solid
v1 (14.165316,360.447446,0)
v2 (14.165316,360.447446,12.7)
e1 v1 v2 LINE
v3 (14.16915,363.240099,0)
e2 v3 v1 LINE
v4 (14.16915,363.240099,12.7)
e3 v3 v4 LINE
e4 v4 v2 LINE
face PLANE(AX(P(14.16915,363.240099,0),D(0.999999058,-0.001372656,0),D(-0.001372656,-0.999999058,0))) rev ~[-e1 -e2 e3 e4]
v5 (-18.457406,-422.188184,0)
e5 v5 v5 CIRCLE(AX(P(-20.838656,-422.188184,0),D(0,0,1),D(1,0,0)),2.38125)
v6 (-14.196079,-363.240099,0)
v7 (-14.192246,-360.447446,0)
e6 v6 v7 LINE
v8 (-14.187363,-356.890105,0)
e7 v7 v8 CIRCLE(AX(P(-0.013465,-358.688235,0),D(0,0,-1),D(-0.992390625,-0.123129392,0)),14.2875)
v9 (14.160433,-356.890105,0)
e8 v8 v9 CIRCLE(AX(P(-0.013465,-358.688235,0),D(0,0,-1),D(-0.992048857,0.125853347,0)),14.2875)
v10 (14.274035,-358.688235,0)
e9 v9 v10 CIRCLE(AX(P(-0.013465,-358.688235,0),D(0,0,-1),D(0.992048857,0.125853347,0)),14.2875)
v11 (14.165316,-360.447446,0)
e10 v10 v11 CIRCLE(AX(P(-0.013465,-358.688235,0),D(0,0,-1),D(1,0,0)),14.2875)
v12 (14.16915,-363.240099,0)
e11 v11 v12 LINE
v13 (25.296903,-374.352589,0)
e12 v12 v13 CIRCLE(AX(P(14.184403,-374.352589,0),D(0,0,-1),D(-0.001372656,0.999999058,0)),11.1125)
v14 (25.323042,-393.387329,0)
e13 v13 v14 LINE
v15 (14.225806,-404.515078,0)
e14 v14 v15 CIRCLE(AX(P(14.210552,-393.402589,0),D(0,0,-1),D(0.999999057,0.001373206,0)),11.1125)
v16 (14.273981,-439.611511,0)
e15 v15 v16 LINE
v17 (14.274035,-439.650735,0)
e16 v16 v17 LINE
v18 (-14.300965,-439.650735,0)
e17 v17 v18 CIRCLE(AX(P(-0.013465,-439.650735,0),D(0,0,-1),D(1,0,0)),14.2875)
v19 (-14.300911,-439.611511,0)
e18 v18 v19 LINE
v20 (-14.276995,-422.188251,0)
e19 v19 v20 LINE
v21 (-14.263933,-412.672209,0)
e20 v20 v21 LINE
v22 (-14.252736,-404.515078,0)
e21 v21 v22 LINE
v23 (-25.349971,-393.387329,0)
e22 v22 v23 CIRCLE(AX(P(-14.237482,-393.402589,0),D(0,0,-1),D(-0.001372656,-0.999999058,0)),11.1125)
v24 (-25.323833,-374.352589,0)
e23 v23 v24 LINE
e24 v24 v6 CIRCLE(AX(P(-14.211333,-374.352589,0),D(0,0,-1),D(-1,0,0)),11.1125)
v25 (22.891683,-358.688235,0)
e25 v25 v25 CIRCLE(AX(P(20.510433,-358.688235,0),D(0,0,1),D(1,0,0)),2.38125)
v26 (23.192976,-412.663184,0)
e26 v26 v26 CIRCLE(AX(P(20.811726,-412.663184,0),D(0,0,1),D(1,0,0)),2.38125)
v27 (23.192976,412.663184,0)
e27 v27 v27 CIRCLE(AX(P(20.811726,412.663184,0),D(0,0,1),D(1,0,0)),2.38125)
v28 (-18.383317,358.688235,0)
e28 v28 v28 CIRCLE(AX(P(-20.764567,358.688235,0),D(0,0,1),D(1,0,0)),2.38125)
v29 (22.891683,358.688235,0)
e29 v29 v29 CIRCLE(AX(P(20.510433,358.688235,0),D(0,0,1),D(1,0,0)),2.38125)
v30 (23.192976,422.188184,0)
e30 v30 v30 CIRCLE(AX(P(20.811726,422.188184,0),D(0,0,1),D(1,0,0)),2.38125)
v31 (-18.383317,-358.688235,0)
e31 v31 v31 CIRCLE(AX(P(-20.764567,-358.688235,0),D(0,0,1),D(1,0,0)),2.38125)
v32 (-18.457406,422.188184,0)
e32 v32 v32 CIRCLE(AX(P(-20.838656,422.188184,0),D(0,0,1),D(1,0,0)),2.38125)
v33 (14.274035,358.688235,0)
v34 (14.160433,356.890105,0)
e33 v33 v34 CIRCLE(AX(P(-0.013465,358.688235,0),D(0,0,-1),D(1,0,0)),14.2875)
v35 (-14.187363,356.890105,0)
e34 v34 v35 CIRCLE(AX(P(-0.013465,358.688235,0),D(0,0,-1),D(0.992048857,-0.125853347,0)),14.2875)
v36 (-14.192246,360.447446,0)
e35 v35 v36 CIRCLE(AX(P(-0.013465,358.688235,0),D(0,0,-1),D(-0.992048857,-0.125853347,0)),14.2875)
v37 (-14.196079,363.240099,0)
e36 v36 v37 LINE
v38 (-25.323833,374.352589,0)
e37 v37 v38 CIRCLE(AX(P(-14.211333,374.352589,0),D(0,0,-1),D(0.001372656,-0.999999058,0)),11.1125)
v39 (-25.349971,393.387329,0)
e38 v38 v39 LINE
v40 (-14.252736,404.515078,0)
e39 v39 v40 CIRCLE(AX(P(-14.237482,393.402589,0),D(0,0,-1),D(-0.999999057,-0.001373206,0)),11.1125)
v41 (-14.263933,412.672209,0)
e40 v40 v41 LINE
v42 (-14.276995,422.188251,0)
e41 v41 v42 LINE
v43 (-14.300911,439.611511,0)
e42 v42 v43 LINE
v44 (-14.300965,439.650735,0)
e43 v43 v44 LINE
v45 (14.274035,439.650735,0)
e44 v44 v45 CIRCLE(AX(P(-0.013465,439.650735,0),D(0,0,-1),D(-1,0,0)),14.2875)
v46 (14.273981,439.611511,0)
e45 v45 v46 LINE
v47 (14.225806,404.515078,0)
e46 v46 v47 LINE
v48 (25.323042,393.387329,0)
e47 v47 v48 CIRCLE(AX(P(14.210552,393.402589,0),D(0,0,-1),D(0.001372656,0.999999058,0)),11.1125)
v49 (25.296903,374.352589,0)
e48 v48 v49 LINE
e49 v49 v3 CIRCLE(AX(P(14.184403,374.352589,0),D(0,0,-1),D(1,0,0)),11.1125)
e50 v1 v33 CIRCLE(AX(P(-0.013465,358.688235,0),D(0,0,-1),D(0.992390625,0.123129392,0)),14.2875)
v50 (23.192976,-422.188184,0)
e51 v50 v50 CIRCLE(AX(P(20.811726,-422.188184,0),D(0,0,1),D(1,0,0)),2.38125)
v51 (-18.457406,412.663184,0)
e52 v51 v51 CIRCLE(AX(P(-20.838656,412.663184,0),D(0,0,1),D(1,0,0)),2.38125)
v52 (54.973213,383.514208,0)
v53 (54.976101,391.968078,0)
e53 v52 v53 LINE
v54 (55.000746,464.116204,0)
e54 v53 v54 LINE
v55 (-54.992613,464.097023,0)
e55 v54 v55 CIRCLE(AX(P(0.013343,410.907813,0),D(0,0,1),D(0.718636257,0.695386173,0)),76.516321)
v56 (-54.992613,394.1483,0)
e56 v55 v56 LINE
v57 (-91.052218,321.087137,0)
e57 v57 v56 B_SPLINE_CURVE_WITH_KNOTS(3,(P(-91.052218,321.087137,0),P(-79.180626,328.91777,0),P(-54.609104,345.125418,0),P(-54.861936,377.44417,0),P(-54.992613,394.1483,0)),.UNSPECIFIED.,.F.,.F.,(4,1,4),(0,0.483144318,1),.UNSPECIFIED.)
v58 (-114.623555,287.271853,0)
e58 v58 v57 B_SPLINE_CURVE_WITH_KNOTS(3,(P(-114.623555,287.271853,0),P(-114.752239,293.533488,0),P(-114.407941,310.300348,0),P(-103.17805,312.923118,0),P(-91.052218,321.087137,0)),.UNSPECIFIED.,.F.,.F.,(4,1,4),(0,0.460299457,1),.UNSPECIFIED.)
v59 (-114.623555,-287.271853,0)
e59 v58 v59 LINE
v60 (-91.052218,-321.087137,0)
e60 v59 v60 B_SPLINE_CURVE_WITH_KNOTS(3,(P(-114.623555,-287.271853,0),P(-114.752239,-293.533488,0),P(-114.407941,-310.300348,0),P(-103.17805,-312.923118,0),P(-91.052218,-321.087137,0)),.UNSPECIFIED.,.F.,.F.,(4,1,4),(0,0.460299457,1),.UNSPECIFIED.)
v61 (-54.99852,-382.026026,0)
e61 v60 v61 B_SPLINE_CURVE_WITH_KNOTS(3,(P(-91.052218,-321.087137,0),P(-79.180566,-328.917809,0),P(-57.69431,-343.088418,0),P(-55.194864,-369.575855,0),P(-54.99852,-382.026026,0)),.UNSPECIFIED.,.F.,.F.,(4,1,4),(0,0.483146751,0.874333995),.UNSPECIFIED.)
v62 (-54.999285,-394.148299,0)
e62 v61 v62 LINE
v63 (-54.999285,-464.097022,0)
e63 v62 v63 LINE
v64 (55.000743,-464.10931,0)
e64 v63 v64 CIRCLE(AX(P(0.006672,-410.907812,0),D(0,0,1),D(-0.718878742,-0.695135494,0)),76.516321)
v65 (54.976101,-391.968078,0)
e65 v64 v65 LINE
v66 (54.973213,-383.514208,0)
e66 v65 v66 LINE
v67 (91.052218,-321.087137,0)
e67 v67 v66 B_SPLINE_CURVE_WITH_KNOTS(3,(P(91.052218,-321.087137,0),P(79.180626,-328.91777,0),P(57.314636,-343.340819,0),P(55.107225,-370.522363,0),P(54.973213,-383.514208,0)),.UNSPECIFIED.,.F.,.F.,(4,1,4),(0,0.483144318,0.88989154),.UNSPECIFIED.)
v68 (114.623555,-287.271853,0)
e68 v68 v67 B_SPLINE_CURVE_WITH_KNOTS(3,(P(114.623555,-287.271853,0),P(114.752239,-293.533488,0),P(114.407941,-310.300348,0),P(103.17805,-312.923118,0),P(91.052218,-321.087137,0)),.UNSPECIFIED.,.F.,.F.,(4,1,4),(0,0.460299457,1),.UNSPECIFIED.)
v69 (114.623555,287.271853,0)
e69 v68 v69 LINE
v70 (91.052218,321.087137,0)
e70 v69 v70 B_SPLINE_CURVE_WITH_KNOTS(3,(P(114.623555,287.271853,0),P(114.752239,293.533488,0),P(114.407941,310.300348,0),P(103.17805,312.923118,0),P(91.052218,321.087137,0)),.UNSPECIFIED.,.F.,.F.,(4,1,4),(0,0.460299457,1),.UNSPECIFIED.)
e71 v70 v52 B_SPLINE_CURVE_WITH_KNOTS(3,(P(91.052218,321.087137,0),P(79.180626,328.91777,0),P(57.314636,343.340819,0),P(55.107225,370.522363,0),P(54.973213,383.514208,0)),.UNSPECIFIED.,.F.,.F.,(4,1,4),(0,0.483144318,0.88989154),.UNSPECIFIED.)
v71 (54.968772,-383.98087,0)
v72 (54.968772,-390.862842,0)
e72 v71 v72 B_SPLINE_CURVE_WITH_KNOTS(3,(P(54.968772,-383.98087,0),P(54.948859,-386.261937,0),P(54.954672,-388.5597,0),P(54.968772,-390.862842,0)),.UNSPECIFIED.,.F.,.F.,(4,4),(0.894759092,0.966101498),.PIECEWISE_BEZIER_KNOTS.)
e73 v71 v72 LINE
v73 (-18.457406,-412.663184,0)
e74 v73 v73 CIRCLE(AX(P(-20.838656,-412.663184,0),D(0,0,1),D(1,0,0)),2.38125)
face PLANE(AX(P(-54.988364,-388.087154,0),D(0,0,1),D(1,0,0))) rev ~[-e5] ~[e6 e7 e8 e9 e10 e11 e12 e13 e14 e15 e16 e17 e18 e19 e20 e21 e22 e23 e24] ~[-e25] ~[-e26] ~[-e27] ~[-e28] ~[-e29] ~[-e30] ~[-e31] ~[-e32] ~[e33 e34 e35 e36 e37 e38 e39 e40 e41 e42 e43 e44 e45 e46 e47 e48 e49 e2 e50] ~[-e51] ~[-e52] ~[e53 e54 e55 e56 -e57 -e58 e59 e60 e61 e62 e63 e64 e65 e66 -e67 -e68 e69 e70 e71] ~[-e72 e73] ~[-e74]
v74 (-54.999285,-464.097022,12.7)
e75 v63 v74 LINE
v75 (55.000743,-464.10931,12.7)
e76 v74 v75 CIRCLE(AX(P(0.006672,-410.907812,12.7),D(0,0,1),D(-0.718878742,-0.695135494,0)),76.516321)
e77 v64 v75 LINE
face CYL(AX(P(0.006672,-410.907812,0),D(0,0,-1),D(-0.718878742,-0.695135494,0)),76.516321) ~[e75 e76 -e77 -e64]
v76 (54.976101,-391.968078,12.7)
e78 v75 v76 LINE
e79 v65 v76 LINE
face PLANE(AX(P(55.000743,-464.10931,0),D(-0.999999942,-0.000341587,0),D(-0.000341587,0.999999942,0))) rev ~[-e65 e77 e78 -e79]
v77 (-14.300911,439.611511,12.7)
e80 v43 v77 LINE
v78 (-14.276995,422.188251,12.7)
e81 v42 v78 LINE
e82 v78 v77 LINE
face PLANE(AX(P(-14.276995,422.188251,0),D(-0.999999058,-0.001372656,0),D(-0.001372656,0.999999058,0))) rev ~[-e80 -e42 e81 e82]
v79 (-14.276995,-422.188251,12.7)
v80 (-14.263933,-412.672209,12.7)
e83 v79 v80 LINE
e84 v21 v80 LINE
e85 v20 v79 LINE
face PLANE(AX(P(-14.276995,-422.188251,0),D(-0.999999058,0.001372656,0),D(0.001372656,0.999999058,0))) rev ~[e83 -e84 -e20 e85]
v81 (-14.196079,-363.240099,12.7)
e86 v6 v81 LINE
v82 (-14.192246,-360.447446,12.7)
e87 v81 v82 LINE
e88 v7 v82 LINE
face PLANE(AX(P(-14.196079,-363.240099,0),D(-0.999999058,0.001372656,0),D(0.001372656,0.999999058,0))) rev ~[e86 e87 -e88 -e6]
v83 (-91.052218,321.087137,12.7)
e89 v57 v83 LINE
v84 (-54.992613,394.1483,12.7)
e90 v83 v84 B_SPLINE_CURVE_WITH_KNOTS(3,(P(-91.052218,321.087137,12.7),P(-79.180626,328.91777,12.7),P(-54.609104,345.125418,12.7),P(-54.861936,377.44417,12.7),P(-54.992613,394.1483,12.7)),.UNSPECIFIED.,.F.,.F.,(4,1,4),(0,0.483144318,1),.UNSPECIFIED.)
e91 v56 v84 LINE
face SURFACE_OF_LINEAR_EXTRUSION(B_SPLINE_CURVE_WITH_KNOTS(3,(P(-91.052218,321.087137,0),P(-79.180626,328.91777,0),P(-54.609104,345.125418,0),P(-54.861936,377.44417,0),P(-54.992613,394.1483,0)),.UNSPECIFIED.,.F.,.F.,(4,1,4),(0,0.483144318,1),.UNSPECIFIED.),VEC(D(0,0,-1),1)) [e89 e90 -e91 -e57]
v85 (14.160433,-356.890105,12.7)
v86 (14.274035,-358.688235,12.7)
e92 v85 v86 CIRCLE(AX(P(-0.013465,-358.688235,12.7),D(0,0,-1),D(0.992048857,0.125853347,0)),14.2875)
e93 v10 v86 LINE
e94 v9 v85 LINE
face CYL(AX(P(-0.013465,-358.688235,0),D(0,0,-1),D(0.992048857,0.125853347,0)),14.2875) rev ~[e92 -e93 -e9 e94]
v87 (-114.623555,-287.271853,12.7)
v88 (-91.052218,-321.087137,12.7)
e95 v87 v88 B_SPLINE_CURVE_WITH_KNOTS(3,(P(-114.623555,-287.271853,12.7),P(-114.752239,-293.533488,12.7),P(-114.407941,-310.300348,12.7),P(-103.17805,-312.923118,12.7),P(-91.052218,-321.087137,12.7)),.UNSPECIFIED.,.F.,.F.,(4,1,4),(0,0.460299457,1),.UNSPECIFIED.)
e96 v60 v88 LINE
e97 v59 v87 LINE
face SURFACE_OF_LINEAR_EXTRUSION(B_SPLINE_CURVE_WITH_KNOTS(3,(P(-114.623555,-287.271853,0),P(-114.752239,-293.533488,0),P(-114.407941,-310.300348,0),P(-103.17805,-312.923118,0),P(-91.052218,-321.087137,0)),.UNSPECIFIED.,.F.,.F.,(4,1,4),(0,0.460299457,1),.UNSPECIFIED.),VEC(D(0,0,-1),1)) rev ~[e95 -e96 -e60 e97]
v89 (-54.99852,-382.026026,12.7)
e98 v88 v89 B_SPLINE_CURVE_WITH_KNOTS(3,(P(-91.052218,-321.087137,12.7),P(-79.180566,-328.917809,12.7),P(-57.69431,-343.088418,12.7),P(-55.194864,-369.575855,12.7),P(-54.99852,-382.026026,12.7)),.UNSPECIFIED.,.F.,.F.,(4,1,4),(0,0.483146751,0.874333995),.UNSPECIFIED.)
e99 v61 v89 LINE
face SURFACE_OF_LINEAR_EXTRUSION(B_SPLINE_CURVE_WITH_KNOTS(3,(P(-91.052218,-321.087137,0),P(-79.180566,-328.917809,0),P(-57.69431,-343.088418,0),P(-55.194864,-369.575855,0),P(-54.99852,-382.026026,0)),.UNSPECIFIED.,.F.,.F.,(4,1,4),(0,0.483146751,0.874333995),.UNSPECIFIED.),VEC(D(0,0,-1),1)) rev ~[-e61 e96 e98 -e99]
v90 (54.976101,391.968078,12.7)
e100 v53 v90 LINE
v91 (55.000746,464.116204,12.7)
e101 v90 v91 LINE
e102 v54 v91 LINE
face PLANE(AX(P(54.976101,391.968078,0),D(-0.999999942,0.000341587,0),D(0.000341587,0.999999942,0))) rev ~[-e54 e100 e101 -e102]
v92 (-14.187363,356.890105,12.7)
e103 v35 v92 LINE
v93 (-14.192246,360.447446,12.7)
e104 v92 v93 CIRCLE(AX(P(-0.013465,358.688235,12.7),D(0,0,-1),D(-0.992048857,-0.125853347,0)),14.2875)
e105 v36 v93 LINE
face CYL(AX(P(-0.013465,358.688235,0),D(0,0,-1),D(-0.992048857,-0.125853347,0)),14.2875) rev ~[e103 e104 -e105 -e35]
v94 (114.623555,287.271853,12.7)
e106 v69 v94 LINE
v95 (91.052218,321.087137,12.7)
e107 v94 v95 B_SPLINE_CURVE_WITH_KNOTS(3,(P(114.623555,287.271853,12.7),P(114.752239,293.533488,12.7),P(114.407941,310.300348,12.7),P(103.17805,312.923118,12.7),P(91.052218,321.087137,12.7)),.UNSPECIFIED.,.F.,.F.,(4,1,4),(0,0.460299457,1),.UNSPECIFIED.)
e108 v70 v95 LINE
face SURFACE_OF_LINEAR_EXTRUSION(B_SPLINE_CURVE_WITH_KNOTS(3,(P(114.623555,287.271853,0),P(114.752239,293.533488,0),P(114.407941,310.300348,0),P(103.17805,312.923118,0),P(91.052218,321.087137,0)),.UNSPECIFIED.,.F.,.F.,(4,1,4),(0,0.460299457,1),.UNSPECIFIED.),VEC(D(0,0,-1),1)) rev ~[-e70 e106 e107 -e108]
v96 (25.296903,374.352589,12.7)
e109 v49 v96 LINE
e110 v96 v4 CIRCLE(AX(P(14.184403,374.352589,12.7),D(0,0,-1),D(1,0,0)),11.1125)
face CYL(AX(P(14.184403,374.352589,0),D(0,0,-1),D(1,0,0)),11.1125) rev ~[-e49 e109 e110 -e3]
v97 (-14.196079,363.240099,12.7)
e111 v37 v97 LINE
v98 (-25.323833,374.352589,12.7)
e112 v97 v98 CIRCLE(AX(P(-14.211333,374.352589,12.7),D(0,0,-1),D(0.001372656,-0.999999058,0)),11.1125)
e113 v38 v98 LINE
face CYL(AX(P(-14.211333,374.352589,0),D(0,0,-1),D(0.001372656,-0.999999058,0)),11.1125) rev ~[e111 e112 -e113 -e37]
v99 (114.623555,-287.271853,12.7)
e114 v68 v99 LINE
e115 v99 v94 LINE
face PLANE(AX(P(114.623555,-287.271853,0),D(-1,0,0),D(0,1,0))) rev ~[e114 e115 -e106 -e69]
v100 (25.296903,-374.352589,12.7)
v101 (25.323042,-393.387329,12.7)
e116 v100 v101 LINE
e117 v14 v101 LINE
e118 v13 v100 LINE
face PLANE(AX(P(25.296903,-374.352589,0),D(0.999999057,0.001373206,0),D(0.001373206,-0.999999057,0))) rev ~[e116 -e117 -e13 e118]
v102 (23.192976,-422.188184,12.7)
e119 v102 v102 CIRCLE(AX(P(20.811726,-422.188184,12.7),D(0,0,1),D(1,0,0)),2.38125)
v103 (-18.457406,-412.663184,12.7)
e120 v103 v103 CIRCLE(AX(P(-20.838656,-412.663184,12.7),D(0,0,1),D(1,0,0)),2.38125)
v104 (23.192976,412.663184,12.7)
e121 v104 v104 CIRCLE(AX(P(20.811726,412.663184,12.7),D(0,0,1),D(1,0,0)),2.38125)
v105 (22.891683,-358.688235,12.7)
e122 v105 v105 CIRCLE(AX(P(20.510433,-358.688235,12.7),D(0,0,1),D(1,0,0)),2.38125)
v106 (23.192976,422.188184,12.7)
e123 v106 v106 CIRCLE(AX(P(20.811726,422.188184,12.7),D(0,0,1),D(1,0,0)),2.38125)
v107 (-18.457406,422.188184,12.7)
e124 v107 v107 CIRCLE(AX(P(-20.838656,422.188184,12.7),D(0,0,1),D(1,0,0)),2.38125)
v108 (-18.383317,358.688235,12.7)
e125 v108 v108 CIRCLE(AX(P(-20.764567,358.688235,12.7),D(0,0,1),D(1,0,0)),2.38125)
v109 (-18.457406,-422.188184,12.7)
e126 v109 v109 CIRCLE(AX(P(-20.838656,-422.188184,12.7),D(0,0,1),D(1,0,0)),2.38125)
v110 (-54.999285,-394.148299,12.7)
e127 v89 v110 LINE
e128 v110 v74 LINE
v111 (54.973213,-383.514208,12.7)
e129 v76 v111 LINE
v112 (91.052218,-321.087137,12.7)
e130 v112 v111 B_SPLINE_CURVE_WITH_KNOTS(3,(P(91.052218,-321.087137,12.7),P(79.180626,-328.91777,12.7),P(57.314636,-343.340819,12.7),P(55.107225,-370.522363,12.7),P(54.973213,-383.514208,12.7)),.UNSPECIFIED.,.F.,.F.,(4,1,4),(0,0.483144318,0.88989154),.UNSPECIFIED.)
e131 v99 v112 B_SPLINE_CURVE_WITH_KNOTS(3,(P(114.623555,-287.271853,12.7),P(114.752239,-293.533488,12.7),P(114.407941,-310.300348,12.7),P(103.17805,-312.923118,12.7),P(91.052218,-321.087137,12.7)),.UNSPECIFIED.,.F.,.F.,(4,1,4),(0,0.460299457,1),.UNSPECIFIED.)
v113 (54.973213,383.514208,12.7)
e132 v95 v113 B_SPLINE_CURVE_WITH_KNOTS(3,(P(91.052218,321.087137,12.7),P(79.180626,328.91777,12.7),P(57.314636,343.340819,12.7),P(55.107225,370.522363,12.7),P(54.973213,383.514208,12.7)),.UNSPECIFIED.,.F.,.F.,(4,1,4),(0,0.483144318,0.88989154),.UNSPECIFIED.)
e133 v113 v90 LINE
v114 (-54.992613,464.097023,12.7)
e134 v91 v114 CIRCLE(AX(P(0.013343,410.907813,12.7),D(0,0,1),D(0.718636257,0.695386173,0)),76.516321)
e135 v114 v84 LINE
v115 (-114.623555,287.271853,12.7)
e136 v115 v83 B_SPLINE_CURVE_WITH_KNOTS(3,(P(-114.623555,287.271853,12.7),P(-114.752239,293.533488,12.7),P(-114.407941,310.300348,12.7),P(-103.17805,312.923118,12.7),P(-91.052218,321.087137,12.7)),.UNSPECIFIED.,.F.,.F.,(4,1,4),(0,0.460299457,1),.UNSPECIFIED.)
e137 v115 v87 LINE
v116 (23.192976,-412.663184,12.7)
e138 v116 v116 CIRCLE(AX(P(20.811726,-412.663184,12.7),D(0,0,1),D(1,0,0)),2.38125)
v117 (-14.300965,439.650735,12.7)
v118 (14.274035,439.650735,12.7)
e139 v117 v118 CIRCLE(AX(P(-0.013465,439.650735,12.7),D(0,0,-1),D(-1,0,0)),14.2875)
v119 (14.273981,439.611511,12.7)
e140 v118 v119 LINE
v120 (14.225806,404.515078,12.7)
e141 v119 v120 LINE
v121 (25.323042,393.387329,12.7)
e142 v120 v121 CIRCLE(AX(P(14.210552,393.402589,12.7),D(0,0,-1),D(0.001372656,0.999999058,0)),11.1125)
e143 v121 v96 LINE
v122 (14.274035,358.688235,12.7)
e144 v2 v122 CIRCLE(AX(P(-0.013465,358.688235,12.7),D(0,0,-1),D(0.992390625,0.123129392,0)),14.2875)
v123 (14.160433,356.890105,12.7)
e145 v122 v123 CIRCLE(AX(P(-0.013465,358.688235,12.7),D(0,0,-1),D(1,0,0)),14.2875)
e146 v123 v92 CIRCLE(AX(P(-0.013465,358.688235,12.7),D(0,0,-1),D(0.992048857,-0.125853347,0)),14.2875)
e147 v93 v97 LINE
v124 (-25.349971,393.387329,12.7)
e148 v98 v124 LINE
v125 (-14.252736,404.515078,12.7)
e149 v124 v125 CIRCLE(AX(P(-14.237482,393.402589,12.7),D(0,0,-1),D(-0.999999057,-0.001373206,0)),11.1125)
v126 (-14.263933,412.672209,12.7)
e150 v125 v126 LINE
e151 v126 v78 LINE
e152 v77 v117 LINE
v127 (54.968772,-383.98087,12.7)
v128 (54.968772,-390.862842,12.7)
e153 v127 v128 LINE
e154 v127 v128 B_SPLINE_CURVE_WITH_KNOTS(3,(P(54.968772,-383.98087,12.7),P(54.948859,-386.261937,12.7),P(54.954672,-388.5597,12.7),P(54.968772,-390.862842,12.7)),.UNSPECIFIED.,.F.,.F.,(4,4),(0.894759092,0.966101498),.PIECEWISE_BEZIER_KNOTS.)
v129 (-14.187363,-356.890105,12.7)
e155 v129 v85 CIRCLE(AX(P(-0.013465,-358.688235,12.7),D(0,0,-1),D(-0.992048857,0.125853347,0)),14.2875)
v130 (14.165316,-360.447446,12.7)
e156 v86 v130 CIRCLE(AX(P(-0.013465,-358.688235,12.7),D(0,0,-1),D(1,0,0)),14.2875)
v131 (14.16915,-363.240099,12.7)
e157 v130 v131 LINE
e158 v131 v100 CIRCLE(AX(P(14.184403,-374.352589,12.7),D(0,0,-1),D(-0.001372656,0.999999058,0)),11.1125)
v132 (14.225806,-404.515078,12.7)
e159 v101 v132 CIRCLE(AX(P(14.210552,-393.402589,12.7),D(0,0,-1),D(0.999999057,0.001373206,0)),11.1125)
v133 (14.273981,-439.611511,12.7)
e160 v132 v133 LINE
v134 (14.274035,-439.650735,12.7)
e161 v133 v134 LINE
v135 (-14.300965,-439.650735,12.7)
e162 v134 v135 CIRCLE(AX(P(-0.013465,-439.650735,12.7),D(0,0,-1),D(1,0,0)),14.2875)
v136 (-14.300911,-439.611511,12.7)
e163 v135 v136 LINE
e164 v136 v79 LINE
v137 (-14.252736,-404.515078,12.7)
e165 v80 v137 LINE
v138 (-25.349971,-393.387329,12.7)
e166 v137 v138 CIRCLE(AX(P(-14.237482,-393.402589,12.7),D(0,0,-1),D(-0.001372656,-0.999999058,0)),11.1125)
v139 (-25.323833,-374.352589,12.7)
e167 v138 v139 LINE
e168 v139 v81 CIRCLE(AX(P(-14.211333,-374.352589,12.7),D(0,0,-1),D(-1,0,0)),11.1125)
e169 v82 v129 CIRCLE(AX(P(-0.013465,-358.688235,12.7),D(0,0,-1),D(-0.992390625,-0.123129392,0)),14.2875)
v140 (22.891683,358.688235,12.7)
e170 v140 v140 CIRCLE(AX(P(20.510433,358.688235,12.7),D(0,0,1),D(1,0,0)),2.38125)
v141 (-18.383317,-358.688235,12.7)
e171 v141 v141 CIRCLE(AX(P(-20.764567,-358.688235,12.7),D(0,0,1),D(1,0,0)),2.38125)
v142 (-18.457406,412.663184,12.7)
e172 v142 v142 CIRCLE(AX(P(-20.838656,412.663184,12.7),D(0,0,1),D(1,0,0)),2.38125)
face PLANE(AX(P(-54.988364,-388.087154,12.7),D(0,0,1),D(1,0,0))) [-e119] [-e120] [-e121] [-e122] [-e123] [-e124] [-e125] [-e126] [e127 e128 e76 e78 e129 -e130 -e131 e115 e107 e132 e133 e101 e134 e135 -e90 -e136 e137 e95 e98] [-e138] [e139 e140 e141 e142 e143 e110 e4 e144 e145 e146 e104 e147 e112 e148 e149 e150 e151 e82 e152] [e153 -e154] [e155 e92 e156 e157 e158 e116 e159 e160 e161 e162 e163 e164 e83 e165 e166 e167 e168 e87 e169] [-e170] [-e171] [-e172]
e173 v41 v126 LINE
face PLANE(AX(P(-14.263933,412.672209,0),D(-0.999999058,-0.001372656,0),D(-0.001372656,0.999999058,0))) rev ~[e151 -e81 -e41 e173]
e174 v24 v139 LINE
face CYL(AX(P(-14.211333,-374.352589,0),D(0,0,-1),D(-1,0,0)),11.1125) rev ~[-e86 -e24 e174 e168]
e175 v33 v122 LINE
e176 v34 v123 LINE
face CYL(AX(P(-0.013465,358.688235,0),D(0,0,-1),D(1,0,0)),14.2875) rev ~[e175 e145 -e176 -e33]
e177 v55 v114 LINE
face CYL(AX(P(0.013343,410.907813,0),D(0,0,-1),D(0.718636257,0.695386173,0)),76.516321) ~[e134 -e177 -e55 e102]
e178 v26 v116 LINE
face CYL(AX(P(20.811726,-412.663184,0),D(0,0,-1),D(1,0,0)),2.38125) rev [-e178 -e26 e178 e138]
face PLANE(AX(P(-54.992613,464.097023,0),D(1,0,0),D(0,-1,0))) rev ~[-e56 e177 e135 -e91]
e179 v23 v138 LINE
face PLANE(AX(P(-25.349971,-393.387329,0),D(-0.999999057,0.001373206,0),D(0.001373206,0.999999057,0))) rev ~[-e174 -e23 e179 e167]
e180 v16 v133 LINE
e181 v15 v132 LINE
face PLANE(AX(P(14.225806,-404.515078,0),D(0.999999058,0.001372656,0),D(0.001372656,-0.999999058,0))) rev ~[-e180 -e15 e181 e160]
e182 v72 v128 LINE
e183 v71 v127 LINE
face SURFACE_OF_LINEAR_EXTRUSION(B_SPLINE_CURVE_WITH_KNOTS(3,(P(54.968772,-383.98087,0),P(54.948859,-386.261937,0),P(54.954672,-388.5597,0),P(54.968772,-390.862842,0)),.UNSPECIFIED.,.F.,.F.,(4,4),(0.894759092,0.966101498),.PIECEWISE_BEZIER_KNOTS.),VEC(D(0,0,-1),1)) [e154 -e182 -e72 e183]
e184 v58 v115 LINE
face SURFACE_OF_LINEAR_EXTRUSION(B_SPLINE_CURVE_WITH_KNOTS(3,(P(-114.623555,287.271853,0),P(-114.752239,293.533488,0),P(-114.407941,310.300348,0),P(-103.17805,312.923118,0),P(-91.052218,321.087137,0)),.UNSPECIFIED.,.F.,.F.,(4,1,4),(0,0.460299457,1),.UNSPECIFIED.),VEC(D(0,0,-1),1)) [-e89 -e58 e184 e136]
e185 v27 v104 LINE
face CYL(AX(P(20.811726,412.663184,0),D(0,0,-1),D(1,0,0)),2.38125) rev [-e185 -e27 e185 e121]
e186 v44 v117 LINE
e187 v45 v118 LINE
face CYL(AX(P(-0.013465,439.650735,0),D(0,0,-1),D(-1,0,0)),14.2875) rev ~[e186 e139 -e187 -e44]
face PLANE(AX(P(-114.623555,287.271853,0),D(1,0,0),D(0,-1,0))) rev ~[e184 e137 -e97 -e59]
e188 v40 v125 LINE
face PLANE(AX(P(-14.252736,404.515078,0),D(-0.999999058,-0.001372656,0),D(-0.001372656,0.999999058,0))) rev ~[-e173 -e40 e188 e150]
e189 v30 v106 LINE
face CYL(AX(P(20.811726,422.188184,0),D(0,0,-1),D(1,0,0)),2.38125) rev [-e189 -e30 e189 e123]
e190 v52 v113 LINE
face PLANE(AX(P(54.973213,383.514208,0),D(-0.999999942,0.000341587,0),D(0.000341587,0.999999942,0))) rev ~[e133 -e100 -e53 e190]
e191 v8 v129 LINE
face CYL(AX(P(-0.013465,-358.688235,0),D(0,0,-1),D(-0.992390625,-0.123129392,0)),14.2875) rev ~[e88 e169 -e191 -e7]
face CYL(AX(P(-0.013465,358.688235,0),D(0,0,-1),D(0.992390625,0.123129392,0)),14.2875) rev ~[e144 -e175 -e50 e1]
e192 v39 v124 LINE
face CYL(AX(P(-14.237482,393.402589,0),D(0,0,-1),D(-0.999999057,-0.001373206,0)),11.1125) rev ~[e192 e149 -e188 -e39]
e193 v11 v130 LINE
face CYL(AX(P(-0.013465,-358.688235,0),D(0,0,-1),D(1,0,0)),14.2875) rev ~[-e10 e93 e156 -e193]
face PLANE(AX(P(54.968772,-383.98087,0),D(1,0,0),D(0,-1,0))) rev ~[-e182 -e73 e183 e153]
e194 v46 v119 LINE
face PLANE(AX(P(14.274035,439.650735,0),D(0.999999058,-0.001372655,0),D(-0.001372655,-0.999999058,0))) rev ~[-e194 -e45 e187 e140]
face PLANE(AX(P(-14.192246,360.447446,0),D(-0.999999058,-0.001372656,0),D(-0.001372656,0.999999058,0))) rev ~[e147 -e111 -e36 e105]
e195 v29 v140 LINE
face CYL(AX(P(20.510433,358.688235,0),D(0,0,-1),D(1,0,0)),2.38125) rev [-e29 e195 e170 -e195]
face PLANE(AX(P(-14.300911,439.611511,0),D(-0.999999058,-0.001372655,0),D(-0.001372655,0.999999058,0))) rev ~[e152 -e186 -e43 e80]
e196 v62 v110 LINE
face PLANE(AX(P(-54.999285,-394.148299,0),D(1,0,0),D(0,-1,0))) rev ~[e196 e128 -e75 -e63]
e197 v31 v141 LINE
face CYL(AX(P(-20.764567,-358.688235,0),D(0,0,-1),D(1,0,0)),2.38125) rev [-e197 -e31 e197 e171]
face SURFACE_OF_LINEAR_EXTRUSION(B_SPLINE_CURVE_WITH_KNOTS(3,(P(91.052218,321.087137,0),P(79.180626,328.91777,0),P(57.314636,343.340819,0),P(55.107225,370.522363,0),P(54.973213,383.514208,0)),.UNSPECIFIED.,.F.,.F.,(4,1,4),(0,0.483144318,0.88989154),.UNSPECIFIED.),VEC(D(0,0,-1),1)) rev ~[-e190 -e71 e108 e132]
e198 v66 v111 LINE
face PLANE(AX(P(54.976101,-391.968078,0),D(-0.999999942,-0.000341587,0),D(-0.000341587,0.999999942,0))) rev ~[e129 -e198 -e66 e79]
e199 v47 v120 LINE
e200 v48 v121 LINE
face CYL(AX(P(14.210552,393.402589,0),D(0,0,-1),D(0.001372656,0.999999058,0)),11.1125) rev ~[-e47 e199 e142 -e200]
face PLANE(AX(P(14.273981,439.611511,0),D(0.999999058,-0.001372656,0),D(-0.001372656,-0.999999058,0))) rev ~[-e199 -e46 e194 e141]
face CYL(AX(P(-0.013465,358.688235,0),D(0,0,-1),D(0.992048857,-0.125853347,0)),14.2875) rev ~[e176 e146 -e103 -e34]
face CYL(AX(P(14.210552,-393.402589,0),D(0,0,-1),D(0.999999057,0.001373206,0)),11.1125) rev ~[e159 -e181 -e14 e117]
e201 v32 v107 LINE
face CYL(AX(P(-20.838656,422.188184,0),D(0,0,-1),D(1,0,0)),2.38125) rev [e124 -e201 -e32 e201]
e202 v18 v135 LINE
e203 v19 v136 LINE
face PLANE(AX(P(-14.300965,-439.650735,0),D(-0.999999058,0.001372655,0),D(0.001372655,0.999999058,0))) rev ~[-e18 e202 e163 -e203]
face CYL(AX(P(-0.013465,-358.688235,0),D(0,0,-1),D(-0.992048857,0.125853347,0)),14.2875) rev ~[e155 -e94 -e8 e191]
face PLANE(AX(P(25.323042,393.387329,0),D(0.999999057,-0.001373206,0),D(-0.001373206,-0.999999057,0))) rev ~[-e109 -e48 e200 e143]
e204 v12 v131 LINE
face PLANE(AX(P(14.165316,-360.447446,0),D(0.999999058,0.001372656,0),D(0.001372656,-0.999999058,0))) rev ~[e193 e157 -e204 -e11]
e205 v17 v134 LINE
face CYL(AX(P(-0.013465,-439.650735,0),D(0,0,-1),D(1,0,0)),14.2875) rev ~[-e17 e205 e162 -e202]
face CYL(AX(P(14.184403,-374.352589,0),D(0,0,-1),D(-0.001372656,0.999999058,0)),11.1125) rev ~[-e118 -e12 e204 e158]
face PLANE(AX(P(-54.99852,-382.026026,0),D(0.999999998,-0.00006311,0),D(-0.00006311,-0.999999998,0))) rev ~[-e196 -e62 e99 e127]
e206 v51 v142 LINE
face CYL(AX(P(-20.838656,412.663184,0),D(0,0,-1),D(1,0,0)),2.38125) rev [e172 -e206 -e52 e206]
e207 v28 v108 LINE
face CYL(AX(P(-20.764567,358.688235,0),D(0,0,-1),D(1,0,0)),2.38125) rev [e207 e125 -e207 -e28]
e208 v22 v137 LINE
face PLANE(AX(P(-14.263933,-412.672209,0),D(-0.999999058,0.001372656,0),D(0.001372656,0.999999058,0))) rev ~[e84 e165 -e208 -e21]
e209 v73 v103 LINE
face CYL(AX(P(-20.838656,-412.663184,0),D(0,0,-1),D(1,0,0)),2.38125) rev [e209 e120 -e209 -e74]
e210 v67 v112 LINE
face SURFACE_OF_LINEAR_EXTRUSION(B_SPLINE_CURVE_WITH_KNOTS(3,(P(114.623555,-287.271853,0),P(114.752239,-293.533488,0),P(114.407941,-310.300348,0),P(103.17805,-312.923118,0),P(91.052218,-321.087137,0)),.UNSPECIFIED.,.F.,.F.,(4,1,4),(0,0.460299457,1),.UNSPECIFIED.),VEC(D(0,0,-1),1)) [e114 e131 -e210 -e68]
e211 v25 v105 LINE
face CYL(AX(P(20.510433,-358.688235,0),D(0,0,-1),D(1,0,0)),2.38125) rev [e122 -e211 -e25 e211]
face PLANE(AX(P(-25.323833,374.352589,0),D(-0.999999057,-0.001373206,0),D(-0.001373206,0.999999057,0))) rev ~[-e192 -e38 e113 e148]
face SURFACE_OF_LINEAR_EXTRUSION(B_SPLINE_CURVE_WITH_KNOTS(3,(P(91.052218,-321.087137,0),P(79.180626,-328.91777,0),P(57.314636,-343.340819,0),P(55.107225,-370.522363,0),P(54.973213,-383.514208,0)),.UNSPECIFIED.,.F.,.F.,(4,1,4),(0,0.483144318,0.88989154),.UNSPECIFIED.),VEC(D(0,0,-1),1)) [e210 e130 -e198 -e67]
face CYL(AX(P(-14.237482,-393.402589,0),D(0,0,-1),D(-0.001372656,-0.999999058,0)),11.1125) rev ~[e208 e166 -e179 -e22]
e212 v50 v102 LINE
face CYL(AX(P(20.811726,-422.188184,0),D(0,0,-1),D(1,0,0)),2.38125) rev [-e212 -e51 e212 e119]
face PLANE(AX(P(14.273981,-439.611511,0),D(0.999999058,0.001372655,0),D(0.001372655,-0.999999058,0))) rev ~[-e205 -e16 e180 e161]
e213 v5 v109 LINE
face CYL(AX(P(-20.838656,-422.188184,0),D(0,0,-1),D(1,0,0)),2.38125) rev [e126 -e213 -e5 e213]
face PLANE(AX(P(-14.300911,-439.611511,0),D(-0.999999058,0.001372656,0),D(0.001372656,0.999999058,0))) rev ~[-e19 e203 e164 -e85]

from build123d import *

# Parameters (mm, degrees)
F0_R     = 2.38125
F1_DEPTH = 12.7


with BuildPart() as f1:
    # F0 (on Top) → F1 (new body)
    with BuildSketch(Plane.XY):
        with BuildLine():
            Line((-54.9985197177, -382.026025871), (-54.9992847525, -394.1482991889))
            add(Edge.make_bspline(
                [(-54.9985197177, -382.026025871), (-54.9354455758, -386.0255511518), (-54.9675123774, -390.0869308064), (-54.9992847525, -394.1482991889)],
                knots=[0.8743339951, 0.8743339951, 0.8743339951, 0.8743339951, 1, 1, 1, 1], degree=3))
        make_face()
        with BuildLine():
            add(Edge.make_bspline(
                [(-54.9985197177, -382.026025871), (-54.9354455758, -386.0255511518), (-54.9675123774, -390.0869308064), (-54.9992847525, -394.1482991889)],
                knots=[0.8743339951, 0.8743339951, 0.8743339951, 0.8743339951, 1, 1, 1, 1], degree=3))
            Line((-54.9992847525, -394.1482991889), (-54.9992847525, -464.0970221375))
            ThreePointArc((-54.9992847525, -464.0970221375), (-0.0018759394, -487.4241320019), (55.000743191, -464.1093101158))
            Line((55.000743191, -464.1093101158), (54.9761007121, -391.9680777589))
            add(Edge.make_bspline(
                [(54.9687721704, -390.8628424946), (54.9710268923, -391.2311321553), (54.97349351, -391.5995593372), (54.9761007121, -391.9680777589)],
                knots=[0.966101498, 0.966101498, 0.966101498, 0.966101498, 0.9775096829, 0.9775096829, 0.9775096829, 0.9775096829], degree=3))
            add(Edge.make_bspline(
                [(54.9687721704, -383.9808695319), (54.9488585997, -386.2619365341), (54.9546720058, -388.559700445), (54.9687721704, -390.8628424946)],
                knots=[0.8947590922, 0.8947590922, 0.8947590922, 0.8947590922, 0.966101498, 0.966101498, 0.966101498, 0.966101498], degree=3))
            add(Edge.make_bspline(
                [(54.9732129835, -383.5142081144), (54.971609259, -383.6696817984), (54.9701308343, -383.8252368026), (54.9687721704, -383.9808695319)],
                knots=[0.8898915397, 0.8898915397, 0.8898915397, 0.8898915397, 0.8947590922, 0.8947590922, 0.8947590922, 0.8947590922], degree=3))
            add(Edge.make_bspline(
                [(91.0522177535, -321.0871368647), (79.1806262303, -328.9177700097), (57.3146361539, -343.3408190429), (55.1072249943, -370.5223627567), (54.9732129835, -383.5142081144)],
                knots=[0, 0, 0, 0, 0.4831443178, 0.8898915397, 0.8898915397, 0.8898915397, 0.8898915397], degree=3))
            add(Edge.make_bspline(
                [(114.6235545891, -287.2718525976), (114.7522390143, -293.5334884003), (114.407941027, -310.3003483875), (103.1780495584, -312.9231176806), (91.0522177535, -321.0871368647)],
                knots=[0, 0, 0, 0, 0.4602994573, 1, 1, 1, 1], degree=3))
            Line((114.6235545891, -287.2718525976), (114.6235545891, 287.2718525976))
            add(Edge.make_bspline(
                [(114.6235545891, 287.2718525976), (114.7522390143, 293.5334884003), (114.407941027, 310.3003483875), (103.1780495584, 312.9231176806), (91.0522177535, 321.0871368647)],
                knots=[0, 0, 0, 0, 0.4602994573, 1, 1, 1, 1], degree=3))
            add(Edge.make_bspline(
                [(91.0522177535, 321.0871368647), (79.1806262303, 328.9177700097), (57.3146361539, 343.3408190429), (55.1072249943, 370.5223627567), (54.9732129835, 383.5142081144)],
                knots=[0, 0, 0, 0, 0.4831443178, 0.8898915397, 0.8898915397, 0.8898915397, 0.8898915397], degree=3))
            add(Edge.make_bspline(
                [(54.9732129835, 383.5142081144), (54.9443452176, 386.3128046538), (54.9560766494, 389.1377502314), (54.9761007121, 391.9680777589)],
                knots=[0.8898915397, 0.8898915397, 0.8898915397, 0.8898915397, 0.9775096829, 0.9775096829, 0.9775096829, 0.9775096829], degree=3))
            Line((54.9761007121, 391.9680777589), (55.0007455459, 464.116204095))
            ThreePointArc((55.0007455459, 464.116204095), (0, 487.4241321885), (-54.9926131403, 464.0970230103))
            Line((-54.9926131403, 464.0970230103), (-54.9926131403, 394.1483000617))
            add(Edge.make_bspline(
                [(-91.0522177535, 321.0871368647), (-79.1806262303, 328.9177700097), (-54.6091036329, 345.1254182344), (-54.8619355351, 377.444169717), (-54.9926131403, 394.1483000617)],
                knots=[0, 0, 0, 0, 0.4831443178, 1, 1, 1, 1], degree=3))
            add(Edge.make_bspline(
                [(-114.6235545891, 287.2718525976), (-114.7522390143, 293.5334884003), (-114.407941027, 310.3003483875), (-103.1780495584, 312.9231176806), (-91.0522177535, 321.0871368647)],
                knots=[0, 0, 0, 0, 0.4602994573, 1, 1, 1, 1], degree=3))
            Line((-114.6235545891, 287.2718525976), (-114.6235545891, -287.2718525976))
            add(Edge.make_bspline(
                [(-114.6235545891, -287.2718525976), (-114.7522390143, -293.5334884003), (-114.407941027, -310.3003483875), (-103.1780495584, -312.9231176806), (-91.0522177535, -321.0871368647)],
                knots=[0, 0, 0, 0, 0.4602994573, 1, 1, 1, 1], degree=3))
            add(Edge.make_bspline(
                [(-91.0522177535, -321.0871368647), (-79.1805664511, -328.9178094407), (-57.6943096428, -343.0884182066), (-55.1948639857, -369.5758546835), (-54.9985197177, -382.026025871)],
                knots=[0, 0, 0, 0, 0.4831467507, 0.8743339951, 0.8743339951, 0.8743339951, 0.8743339951], degree=3))
        make_face()
        with Locations((-20.8386558141, -422.188183992)):
            Circle(F0_R, mode=Mode.SUBTRACT)
        with Locations((-20.8386558141, -412.663183992)):
            Circle(F0_R, mode=Mode.SUBTRACT)
        with BuildLine():
            ThreePointArc((14.2740352273, -439.6507348414), (-0.0134647727, -453.9382348414), (-14.3009647727, -439.6507348414))
            Line((-14.3009647727, -439.6507348414), (-14.3009109322, -439.6115112433))
            Line((-14.3009109322, -439.6115112433), (-14.2769947735, -422.1882512927))
            Line((-14.2769947735, -422.1882512927), (-14.2639325118, -412.6722088316))
            Line((-14.2639325118, -412.6722088316), (-14.2527355698, -404.5150782267))
            ThreePointArc((-14.2527355698, -404.5150782267), (-22.1059867444, -401.2495172858), (-25.3499714565, -393.3873289481))
            Line((-25.3499714565, -393.3873289481), (-25.3238328191, -374.3525886957))
            ThreePointArc((-25.3238328191, -374.3525886957), (-22.0636620984, -366.4894734645), (-14.1960791833, -363.2400991647))
            Line((-14.1960791833, -363.2400991647), (-14.1922458286, -360.447446034))
            ThreePointArc((-14.1922458286, -360.447446034), (-14.3009513126, -358.6686230238), (-14.1873628199, -356.890105147))
            ThreePointArc((-14.1873628199, -356.890105147), (-0.0134647727, -344.4007348414), (14.1604332745, -356.890105147))
            ThreePointArc((14.1604332745, -356.890105147), (14.2456064558, -357.7873774996), (14.2740352273, -358.6882348414))
            ThreePointArc((14.2740352273, -358.6882348414), (14.2468295894, -359.5695185399), (14.1653162831, -360.447446034))
            Line((14.1653162831, -360.447446034), (14.1691496379, -363.2400991647))
            ThreePointArc((14.1691496379, -363.2400991647), (22.036732553, -366.4894734645), (25.2969032737, -374.3525886957))
            Line((25.2969032737, -374.3525886957), (25.3230419111, -393.3873289481))
            ThreePointArc((25.3230419111, -393.3873289481), (22.079057199, -401.2495172858), (14.2258060244, -404.5150782267))
            Line((14.2258060244, -404.5150782267), (14.2739813868, -439.6115112432))
            Line((14.2739813868, -439.6115112432), (14.2740352273, -439.6507348414))
        make_face(mode=Mode.SUBTRACT)
        with Locations((-20.7645667255, -358.6882348414)):
            Circle(F0_R, mode=Mode.SUBTRACT)
        with Locations((20.8117262687, -422.188183992)):
            Circle(F0_R, mode=Mode.SUBTRACT)
        with Locations((20.8117262687, -412.663183992)):
            Circle(F0_R, mode=Mode.SUBTRACT)
        with Locations((20.5104332745, -358.6882348414)):
            Circle(F0_R, mode=Mode.SUBTRACT)
        with Locations((-20.7645667255, 358.6882348414)):
            Circle(F0_R, mode=Mode.SUBTRACT)
        with Locations((-20.8386558141, 412.663183992)):
            Circle(F0_R, mode=Mode.SUBTRACT)
        with Locations((-20.8386558141, 422.188183992)):
            Circle(F0_R, mode=Mode.SUBTRACT)
        with BuildLine():
            ThreePointArc((14.1653162831, 360.447446034), (14.2468295894, 359.5695185399), (14.2740352273, 358.6882348414))
            ThreePointArc((14.2740352273, 358.6882348414), (14.2456064558, 357.7873774996), (14.1604332745, 356.890105147))
            ThreePointArc((14.1604332745, 356.890105147), (-0.0134647727, 344.4007348414), (-14.1873628199, 356.890105147))
            ThreePointArc((-14.1873628199, 356.890105147), (-14.3009513126, 358.6686230238), (-14.1922458286, 360.447446034))
            Line((-14.1922458286, 360.447446034), (-14.1960791833, 363.2400991647))
            ThreePointArc((-14.1960791833, 363.2400991647), (-22.0636620984, 366.4894734645), (-25.3238328191, 374.3525886957))
            Line((-25.3238328191, 374.3525886957), (-25.3499714565, 393.3873289481))
            ThreePointArc((-25.3499714565, 393.3873289481), (-22.1059867444, 401.2495172858), (-14.2527355698, 404.5150782267))
            Line((-14.2527355698, 404.5150782267), (-14.2639325118, 412.6722088316))
            Line((-14.2639325118, 412.6722088316), (-14.2769947735, 422.1882512927))
            Line((-14.2769947735, 422.1882512927), (-14.3009109322, 439.6115112433))
            Line((-14.3009109322, 439.6115112433), (-14.3009647727, 439.6507348414))
            ThreePointArc((-14.3009647727, 439.6507348414), (-0.0134647727, 453.9382348414), (14.2740352273, 439.6507348414))
            Line((14.2740352273, 439.6507348414), (14.2739813868, 439.6115112432))
            Line((14.2739813868, 439.6115112432), (14.2258060244, 404.5150782267))
            ThreePointArc((14.2258060244, 404.5150782267), (22.079057199, 401.2495172858), (25.3230419111, 393.3873289481))
            Line((25.3230419111, 393.3873289481), (25.2969032737, 374.3525886957))
            ThreePointArc((25.2969032737, 374.3525886957), (22.036732553, 366.4894734645), (14.1691496379, 363.2400991647))
            Line((14.1691496379, 363.2400991647), (14.1653162831, 360.447446034))
        make_face(mode=Mode.SUBTRACT)
        with Locations((20.5104332745, 358.6882348414)):
            Circle(F0_R, mode=Mode.SUBTRACT)
        with Locations((20.8117262687, 412.663183992)):
            Circle(F0_R, mode=Mode.SUBTRACT)
        with Locations((20.8117262687, 422.188183992)):
            Circle(F0_R, mode=Mode.SUBTRACT)
        with BuildLine():
            add(Edge.make_bspline(
                [(54.9687721704, -390.8628424946), (54.9710268923, -391.2311321553), (54.97349351, -391.5995593372), (54.9761007121, -391.9680777589)],
                knots=[0.966101498, 0.966101498, 0.966101498, 0.966101498, 0.9775096829, 0.9775096829, 0.9775096829, 0.9775096829], degree=3))
            Line((54.9761007121, -391.9680777589), (54.9732129835, -383.5142081144))
            add(Edge.make_bspline(
                [(54.9732129835, -383.5142081144), (54.971609259, -383.6696817984), (54.9701308343, -383.8252368026), (54.9687721704, -383.9808695319)],
                knots=[0.8898915397, 0.8898915397, 0.8898915397, 0.8898915397, 0.8947590922, 0.8947590922, 0.8947590922, 0.8947590922], degree=3))
            Line((54.9687721704, -383.9808695319), (54.9687721704, -390.8628424946))
        make_face()
        with BuildLine():
            Line((54.9732129835, 383.5142081144), (54.9761007121, 391.9680777589))
            add(Edge.make_bspline(
                [(54.9732129835, 383.5142081144), (54.9443452176, 386.3128046538), (54.9560766494, 389.1377502314), (54.9761007121, 391.9680777589)],
                knots=[0.8898915397, 0.8898915397, 0.8898915397, 0.8898915397, 0.9775096829, 0.9775096829, 0.9775096829, 0.9775096829], degree=3))
        make_face()
    extrude(amount=F1_DEPTH)


solid = f1.part
